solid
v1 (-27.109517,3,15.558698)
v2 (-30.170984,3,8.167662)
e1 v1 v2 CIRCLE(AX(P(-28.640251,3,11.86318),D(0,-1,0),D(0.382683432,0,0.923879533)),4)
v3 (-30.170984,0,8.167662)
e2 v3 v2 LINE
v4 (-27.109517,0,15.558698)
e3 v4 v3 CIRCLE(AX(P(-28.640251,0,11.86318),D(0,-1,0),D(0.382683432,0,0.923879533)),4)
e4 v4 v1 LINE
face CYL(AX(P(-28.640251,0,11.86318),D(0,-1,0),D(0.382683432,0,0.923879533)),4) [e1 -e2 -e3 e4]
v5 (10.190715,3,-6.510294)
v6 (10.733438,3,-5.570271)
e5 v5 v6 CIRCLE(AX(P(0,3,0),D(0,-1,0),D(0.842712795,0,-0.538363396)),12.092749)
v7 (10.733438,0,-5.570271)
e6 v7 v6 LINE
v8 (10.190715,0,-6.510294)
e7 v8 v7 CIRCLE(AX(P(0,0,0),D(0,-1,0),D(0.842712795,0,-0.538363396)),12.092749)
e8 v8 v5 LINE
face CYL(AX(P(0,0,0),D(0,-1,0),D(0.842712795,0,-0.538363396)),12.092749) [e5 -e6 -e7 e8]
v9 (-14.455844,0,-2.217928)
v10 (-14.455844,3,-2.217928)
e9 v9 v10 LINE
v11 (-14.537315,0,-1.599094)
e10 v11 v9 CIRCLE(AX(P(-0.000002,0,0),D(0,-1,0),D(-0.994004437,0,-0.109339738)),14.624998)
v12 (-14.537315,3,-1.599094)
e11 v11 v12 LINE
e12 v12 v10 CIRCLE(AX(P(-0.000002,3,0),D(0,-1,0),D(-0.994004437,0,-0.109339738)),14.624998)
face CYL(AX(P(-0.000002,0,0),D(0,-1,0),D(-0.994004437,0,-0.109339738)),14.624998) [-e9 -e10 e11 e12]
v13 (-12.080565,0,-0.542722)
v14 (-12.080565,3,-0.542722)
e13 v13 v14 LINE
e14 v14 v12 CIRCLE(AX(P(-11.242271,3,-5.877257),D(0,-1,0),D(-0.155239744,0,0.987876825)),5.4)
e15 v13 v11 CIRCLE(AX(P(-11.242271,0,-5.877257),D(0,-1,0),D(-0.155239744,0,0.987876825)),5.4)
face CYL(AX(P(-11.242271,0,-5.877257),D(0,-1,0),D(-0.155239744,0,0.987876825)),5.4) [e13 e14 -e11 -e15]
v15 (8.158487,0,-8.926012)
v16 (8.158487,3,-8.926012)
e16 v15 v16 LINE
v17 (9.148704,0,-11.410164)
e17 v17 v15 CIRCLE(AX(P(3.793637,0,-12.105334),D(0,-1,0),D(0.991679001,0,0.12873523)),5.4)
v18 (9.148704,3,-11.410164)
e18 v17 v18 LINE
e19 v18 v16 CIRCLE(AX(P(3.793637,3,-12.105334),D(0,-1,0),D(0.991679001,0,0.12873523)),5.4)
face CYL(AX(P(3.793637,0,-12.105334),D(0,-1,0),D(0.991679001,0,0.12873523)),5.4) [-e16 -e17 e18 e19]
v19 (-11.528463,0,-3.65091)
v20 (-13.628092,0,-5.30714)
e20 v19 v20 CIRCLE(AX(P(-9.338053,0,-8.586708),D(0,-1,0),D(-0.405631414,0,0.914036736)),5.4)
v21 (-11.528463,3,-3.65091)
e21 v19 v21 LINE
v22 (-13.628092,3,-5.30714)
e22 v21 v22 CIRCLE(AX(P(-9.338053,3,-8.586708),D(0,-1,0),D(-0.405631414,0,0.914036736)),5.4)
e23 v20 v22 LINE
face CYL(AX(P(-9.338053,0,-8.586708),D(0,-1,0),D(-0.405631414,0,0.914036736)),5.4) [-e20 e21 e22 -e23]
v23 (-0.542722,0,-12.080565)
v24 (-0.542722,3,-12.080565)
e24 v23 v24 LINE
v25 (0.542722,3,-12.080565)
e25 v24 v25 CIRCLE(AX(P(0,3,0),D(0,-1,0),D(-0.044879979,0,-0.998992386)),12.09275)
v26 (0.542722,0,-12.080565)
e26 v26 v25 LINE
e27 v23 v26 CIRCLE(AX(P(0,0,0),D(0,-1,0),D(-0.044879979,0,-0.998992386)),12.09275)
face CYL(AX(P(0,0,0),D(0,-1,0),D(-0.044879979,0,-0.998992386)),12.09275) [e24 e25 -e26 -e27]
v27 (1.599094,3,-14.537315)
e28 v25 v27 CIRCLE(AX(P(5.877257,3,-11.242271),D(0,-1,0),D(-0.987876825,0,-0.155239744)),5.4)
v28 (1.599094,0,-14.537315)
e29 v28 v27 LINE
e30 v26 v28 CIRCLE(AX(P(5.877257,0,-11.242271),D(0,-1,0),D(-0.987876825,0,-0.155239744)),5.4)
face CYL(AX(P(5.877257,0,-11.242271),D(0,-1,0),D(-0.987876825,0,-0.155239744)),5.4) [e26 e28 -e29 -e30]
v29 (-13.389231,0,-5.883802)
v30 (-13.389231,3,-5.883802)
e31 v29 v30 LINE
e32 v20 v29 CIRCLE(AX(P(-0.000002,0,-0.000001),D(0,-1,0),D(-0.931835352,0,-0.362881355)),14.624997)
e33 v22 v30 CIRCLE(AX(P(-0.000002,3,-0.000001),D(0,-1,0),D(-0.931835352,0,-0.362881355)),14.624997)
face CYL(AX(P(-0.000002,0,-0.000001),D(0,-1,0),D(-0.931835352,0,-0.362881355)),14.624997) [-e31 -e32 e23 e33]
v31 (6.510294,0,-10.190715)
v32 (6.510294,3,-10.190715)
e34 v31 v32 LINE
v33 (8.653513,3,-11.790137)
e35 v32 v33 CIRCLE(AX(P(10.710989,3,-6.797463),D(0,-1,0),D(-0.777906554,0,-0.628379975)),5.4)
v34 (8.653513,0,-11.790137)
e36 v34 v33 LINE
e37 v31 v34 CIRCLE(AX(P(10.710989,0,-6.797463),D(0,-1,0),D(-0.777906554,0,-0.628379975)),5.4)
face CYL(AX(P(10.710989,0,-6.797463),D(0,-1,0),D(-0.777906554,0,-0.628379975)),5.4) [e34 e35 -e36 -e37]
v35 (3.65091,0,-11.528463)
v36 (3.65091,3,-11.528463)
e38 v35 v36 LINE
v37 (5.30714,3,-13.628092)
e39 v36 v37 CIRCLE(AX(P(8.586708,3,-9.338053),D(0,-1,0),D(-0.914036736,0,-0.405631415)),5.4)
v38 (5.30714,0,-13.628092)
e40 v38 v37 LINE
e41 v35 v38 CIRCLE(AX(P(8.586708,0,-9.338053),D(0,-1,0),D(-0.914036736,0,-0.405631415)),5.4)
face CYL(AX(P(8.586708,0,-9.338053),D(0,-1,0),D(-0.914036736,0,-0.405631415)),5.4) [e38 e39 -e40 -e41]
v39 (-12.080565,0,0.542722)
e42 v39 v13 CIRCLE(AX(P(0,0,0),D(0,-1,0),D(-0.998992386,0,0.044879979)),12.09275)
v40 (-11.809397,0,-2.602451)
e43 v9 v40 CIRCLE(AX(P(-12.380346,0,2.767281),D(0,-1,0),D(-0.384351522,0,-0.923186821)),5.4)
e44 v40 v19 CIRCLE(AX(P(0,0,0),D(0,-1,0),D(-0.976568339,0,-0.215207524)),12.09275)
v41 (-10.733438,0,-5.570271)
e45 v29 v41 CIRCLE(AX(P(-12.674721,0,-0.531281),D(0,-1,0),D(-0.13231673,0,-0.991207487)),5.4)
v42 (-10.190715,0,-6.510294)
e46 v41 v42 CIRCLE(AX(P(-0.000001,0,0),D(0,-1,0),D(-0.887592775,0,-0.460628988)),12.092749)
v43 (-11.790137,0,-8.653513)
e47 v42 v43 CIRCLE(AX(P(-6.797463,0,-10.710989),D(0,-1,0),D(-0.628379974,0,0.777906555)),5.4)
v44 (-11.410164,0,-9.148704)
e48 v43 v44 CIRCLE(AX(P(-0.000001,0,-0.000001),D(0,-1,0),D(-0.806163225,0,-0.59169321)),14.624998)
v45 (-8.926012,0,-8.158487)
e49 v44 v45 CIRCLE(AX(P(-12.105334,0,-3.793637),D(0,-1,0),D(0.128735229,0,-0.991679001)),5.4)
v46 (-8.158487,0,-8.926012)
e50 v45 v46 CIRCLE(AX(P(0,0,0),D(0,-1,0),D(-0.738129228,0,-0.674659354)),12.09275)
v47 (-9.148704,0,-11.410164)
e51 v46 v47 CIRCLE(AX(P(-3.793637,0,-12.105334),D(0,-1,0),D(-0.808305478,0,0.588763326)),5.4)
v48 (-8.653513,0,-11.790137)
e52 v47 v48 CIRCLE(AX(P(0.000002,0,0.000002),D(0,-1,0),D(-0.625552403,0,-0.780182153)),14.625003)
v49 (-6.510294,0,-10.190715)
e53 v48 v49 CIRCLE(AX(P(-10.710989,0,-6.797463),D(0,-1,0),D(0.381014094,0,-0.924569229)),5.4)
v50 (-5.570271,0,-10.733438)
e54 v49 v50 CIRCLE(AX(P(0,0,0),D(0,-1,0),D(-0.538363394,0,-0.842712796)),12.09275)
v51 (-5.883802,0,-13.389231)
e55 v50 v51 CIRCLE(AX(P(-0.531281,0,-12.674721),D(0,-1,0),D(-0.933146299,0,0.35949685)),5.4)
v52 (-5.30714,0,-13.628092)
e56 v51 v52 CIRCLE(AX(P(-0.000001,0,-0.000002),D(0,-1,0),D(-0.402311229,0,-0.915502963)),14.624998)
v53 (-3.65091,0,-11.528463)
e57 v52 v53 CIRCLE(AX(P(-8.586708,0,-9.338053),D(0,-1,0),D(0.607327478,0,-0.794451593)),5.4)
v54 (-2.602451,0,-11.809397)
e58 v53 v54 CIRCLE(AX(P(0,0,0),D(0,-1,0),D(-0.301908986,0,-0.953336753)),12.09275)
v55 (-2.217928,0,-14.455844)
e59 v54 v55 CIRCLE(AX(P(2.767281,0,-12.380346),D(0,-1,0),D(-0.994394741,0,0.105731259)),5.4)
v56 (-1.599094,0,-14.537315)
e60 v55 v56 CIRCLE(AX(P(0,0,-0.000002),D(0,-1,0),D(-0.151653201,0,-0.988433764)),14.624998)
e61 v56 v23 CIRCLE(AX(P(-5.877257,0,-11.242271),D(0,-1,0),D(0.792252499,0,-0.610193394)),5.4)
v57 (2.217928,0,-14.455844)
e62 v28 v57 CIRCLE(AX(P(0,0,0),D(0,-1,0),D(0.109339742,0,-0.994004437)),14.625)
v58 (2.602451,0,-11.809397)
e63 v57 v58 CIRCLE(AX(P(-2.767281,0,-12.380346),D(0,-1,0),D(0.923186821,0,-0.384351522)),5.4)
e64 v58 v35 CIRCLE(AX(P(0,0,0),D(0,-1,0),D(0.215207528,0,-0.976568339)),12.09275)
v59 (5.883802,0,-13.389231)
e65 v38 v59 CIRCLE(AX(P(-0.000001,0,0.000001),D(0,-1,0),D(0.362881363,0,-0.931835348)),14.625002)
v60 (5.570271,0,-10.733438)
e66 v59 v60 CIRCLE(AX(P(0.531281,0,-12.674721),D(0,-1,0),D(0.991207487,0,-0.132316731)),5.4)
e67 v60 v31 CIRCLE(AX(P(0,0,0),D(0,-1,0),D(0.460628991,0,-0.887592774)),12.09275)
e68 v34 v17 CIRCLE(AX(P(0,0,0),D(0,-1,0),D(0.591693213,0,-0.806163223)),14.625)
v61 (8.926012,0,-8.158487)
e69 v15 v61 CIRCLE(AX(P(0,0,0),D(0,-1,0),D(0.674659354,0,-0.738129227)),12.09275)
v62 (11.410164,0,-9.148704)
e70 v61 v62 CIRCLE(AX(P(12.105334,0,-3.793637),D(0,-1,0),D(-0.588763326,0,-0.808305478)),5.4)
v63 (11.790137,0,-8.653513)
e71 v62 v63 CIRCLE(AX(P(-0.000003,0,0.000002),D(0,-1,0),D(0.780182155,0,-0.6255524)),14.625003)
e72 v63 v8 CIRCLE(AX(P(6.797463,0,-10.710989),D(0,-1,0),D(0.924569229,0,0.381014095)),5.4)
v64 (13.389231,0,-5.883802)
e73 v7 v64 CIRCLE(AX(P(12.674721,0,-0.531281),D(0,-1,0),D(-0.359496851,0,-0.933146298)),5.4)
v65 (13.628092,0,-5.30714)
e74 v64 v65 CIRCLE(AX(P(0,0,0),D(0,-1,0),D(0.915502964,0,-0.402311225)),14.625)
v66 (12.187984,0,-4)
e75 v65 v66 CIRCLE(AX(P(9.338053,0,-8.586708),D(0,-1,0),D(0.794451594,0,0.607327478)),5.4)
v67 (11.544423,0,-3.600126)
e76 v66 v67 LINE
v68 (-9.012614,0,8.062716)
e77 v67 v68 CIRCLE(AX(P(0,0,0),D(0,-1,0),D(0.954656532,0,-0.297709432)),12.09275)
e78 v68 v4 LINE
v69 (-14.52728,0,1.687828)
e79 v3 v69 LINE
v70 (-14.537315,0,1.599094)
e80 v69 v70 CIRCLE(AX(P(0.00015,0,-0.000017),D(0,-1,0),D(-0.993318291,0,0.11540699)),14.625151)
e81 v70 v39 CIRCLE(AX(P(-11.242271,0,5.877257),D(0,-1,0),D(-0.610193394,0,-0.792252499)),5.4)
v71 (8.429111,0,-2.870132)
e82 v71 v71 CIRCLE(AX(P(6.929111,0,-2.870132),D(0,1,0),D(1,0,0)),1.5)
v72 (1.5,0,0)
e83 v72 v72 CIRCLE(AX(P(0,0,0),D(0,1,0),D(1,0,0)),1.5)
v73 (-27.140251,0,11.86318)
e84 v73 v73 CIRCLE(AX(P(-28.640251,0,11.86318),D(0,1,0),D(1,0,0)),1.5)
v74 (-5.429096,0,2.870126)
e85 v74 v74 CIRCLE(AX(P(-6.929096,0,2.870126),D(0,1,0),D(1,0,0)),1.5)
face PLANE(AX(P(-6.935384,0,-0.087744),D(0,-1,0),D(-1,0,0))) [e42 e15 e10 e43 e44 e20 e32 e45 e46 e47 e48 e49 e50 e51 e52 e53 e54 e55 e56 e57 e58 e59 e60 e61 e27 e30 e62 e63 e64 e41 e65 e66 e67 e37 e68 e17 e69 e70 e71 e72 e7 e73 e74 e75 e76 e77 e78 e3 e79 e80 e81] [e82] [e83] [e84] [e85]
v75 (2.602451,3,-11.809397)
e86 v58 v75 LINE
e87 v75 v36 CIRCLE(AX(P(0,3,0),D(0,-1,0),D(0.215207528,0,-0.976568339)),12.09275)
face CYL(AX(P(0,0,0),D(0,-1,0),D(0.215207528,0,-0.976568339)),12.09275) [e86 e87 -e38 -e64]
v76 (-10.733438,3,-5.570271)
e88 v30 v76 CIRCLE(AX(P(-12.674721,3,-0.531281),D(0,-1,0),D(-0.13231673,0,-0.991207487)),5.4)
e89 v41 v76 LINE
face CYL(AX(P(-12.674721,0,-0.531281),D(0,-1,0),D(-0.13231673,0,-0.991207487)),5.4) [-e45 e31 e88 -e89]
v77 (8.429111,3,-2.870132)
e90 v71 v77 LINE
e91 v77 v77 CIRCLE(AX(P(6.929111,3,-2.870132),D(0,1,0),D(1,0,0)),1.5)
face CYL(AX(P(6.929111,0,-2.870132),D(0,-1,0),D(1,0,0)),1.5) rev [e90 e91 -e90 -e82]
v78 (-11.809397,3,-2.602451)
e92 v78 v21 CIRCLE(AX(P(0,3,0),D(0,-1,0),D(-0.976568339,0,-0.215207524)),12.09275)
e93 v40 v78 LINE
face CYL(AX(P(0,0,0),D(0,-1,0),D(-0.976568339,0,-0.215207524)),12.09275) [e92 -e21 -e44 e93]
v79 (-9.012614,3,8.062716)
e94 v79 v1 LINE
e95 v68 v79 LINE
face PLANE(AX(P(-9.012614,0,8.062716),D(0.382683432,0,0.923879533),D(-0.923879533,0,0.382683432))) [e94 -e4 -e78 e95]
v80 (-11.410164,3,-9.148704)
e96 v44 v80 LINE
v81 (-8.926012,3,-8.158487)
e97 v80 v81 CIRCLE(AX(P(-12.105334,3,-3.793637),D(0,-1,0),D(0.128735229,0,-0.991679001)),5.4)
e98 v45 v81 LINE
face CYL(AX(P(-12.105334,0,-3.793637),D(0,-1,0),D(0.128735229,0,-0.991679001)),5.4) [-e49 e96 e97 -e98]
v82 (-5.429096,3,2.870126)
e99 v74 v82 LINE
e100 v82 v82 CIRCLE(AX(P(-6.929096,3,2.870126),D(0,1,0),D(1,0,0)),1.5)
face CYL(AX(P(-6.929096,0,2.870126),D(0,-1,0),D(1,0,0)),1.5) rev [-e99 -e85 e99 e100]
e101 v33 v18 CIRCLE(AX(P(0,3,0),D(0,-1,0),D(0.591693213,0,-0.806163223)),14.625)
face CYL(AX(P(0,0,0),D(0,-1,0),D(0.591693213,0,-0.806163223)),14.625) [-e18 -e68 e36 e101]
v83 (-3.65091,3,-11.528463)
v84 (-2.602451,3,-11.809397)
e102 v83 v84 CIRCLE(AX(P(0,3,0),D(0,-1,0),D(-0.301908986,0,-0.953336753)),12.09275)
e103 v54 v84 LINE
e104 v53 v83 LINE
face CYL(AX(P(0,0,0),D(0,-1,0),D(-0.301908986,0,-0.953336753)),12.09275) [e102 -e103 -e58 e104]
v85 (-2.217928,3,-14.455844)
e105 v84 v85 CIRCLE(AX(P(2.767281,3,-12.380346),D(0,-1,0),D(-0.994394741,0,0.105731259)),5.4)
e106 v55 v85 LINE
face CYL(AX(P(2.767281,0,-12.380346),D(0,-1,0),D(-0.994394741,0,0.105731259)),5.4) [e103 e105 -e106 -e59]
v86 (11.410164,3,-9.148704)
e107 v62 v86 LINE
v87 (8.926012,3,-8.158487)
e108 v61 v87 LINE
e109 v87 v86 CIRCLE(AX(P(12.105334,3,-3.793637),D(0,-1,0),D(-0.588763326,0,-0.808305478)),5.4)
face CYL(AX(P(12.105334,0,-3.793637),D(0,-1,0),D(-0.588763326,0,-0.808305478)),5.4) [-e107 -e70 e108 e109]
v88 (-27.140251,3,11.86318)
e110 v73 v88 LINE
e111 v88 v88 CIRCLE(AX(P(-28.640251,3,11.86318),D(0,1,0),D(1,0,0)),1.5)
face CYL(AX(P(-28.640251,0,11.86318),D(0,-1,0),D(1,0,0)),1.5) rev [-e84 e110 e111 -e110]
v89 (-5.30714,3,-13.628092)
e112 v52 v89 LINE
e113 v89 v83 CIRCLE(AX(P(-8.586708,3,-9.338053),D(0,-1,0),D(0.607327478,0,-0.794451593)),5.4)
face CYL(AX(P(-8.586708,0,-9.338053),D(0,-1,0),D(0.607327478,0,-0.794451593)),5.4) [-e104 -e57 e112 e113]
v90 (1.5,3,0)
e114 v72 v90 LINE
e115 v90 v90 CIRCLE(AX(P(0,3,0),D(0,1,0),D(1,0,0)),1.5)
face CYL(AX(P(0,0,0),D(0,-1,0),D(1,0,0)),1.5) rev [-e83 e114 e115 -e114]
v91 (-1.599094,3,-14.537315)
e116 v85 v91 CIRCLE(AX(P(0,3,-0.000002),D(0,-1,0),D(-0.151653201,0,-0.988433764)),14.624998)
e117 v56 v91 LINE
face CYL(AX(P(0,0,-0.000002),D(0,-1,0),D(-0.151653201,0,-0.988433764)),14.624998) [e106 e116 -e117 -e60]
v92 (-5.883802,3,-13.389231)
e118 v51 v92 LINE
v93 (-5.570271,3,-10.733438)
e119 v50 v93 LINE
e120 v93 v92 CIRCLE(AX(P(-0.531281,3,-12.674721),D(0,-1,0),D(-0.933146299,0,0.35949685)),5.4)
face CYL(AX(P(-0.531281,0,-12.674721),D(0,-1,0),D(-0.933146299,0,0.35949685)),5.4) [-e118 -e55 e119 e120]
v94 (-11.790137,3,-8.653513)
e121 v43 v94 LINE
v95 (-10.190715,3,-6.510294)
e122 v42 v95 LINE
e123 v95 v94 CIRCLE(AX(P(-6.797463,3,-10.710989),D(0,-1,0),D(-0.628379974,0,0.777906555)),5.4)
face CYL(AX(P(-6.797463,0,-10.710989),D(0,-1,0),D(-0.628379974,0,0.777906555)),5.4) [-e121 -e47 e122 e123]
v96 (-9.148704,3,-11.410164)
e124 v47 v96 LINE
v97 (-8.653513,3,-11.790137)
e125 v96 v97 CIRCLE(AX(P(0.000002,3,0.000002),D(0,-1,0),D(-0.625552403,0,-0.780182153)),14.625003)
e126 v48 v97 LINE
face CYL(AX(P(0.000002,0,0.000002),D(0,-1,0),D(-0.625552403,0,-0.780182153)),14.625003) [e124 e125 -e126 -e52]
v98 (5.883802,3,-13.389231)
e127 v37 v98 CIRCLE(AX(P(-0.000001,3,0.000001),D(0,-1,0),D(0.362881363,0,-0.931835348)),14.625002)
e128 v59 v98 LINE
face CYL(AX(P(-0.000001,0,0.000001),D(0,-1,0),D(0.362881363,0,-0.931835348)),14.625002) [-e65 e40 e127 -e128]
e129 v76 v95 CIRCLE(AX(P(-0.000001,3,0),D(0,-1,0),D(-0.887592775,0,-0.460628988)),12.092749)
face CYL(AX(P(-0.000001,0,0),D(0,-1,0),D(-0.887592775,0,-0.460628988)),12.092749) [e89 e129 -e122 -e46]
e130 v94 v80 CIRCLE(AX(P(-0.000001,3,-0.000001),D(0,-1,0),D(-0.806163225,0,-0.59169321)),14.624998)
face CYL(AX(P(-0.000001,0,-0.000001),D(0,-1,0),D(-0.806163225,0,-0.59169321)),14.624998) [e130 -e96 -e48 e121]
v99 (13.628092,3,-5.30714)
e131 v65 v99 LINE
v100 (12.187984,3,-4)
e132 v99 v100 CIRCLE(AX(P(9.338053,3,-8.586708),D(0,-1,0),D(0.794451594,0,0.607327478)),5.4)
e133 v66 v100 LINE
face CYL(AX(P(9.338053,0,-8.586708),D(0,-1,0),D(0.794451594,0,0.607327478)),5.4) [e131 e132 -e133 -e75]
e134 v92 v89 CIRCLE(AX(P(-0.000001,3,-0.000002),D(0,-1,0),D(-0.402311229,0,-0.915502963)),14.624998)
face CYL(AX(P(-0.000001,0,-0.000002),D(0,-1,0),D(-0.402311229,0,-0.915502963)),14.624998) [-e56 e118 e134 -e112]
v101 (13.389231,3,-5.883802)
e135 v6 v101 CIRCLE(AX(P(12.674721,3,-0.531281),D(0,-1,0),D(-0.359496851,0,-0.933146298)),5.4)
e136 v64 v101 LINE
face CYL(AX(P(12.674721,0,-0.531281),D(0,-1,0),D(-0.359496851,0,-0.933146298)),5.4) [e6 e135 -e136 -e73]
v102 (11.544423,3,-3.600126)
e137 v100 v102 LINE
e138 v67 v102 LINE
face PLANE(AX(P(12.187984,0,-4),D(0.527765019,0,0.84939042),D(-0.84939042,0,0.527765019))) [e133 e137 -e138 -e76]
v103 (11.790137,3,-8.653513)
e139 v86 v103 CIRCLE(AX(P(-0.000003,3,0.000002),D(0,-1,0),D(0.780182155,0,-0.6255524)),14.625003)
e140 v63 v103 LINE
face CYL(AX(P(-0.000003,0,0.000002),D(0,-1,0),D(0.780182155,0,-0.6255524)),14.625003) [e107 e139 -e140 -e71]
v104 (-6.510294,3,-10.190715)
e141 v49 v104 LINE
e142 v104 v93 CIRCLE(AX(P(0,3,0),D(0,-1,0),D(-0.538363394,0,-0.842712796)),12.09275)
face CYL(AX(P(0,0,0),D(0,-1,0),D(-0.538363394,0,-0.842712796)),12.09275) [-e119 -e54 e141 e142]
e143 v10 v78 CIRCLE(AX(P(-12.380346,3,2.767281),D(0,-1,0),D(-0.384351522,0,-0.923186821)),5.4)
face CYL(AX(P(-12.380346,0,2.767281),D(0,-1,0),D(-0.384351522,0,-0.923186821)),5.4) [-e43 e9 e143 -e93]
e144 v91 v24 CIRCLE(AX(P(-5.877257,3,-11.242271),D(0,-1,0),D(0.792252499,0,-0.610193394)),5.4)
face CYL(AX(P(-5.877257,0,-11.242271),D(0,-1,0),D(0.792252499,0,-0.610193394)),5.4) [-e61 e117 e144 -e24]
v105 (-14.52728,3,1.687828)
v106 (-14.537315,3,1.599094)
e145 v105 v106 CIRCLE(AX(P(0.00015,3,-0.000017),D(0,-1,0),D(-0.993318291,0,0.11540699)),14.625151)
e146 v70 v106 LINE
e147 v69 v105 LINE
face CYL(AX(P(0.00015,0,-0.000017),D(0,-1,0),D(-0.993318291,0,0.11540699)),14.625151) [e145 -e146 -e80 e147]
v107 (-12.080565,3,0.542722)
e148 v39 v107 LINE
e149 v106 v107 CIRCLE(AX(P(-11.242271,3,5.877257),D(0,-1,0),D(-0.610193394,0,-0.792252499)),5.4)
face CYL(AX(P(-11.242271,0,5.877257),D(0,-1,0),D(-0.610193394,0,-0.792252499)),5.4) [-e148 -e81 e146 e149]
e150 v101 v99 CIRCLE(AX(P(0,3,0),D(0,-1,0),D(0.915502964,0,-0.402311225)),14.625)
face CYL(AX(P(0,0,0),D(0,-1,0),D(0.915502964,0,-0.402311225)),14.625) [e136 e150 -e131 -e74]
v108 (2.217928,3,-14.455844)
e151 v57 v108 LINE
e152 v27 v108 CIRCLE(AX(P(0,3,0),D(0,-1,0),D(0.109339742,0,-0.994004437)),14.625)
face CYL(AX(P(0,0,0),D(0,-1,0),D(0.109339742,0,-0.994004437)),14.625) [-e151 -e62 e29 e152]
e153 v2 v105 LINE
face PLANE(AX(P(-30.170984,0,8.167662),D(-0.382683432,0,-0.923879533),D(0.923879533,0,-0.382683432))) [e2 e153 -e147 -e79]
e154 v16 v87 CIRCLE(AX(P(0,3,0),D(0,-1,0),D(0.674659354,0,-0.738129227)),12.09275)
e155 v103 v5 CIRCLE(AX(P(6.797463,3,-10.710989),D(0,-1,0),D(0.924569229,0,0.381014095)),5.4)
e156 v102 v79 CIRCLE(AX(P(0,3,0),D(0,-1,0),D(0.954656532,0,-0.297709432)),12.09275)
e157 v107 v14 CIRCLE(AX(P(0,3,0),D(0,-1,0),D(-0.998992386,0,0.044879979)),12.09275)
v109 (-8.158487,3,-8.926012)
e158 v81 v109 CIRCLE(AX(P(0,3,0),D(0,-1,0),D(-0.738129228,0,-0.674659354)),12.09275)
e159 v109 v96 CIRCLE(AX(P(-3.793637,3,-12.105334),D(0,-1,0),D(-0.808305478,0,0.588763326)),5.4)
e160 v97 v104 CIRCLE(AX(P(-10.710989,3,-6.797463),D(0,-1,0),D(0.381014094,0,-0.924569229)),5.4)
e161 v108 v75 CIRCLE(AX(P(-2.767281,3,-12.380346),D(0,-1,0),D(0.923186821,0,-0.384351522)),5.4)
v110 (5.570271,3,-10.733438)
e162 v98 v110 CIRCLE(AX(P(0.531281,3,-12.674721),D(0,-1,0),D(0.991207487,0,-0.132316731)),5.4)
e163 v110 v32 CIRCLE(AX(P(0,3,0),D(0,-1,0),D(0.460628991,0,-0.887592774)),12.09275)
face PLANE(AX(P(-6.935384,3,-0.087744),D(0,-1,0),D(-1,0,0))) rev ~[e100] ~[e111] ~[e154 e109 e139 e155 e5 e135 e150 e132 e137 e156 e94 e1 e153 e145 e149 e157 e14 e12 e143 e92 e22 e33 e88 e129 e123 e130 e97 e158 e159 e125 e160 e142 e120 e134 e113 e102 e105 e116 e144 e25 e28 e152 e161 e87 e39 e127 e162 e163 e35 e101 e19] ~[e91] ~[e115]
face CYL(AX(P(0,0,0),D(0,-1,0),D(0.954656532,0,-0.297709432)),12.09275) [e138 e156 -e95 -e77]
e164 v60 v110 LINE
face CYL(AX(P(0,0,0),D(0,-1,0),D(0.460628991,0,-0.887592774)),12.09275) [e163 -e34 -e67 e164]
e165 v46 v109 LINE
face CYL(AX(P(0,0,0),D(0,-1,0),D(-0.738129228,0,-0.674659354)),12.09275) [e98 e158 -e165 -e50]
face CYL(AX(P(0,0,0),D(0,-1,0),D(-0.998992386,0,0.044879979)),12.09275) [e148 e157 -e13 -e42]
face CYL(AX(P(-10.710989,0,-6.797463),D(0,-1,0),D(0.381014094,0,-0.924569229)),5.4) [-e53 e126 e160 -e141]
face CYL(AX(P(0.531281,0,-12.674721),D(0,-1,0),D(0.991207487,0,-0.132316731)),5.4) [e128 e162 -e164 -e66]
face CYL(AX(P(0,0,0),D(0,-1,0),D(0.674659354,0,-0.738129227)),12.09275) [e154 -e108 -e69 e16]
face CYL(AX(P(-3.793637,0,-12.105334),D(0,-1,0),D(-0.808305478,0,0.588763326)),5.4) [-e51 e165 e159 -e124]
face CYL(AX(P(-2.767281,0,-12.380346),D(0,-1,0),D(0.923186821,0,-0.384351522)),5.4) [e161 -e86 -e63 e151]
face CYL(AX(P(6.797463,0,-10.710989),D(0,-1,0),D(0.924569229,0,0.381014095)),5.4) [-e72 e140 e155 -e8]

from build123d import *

# Parameters (mm, degrees)
SKETCH1_R           = 1.5
BOSS_EXTRUDE1_DEPTH = 3


with BuildPart() as part:
    # Sketch1 → Boss-Extrude1 (new body)
    with BuildSketch(Plane(origin=(0, 0, 0), x_dir=(1, 0, 0), z_dir=(0, 1, 0))):
        with BuildLine():
            Line((-9.012614242, -8.062715867), (-27.10951678, -15.558698335))
            ThreePointArc((-27.10951678, -15.558698335), (-32.335768639, -13.393913934), (-30.170984238, -8.167662075))
            Line((-30.170984238, -8.167662075), (-14.527279952, -1.687827594))
            ThreePointArc((-14.527279952, -1.687827594), (-14.532365143, -1.643468323), (-14.537314884, -1.599093734))
            ThreePointArc((-14.537314884, -1.599093734), (-13.375367561, -0.916420891), (-12.08056518, -0.542722374))
            ThreePointArc((-12.08056518, -0.542722374), (-12.092750003, -1.6e-08), (-12.080565181, 0.542722343))
            ThreePointArc((-12.080565181, 0.542722343), (-13.375367564, 0.91642086), (-14.537314887, 1.599093703))
            ThreePointArc((-14.537314887, 1.599093703), (-14.499881093, 1.908945545), (-14.455843804, 2.217928021))
            ThreePointArc((-14.455843804, 2.217928021), (-13.156800144, 2.576605254), (-11.80939679, 2.602450787))
            ThreePointArc((-11.80939679, 2.602450787), (-11.680699543, 3.129833994), (-11.528463026, 3.650909874))
            ThreePointArc((-11.528463026, 3.650909874), (-12.682425794, 4.346994439), (-13.628091988, 5.307139865))
            ThreePointArc((-13.628091988, 5.307139865), (-13.511738162, 5.596745183), (-13.389230858, 5.883801647))
            ThreePointArc((-13.389230858, 5.883801647), (-12.041618538, 5.89404001), (-10.733437524, 5.570271228))
            ThreePointArc((-10.733437524, 5.570271228), (-10.472628711, 6.046374991), (-10.190715165, 6.51029393))
            ThreePointArc((-10.190715165, 6.51029393), (-11.125197663, 7.48132753), (-11.790137141, 8.653513216))
            ThreePointArc((-11.790137141, 8.653513216), (-11.602792603, 8.903135886), (-11.410163954, 9.148703915))
            ThreePointArc((-11.410163954, 9.148703915), (-10.105820527, 8.80980568), (-8.926012227, 8.158486891))
            ThreePointArc((-8.926012227, 8.158486891), (-8.550865537, 8.550865523), (-8.158486906, 8.926012214))
            ThreePointArc((-8.158486906, 8.926012214), (-8.809805695, 10.105820514), (-9.148703931, 11.410163942))
            ThreePointArc((-9.148703931, 11.410163942), (-8.903135901, 11.602792591), (-8.653513232, 11.79013713))
            ThreePointArc((-8.653513232, 11.79013713), (-7.481327547, 11.125197652), (-6.510293947, 10.190715155))
            ThreePointArc((-6.510293947, 10.190715155), (-6.046375007, 10.472628701), (-5.570271245, 10.733437515))
            ThreePointArc((-5.570271245, 10.733437515), (-5.894040027, 12.04161853), (-5.883801664, 13.38923085))
            ThreePointArc((-5.883801664, 13.38923085), (-5.5967452, 13.511738155), (-5.307139882, 13.628091982))
            ThreePointArc((-5.307139882, 13.628091982), (-4.346994456, 12.682425788), (-3.650909891, 11.52846302))
            ThreePointArc((-3.650909891, 11.52846302), (-3.129834011, 11.680699538), (-2.602450802, 11.809396786))
            ThreePointArc((-2.602450802, 11.809396786), (-2.57660527, 13.156800141), (-2.217928037, 14.455843802))
            ThreePointArc((-2.217928037, 14.455843802), (-1.908945561, 14.499881091), (-1.599093718, 14.537314885))
            ThreePointArc((-1.599093718, 14.537314885), (-0.916420875, 13.375367563), (-0.542722359, 12.08056518))
            ThreePointArc((-0.542722359, 12.08056518), (2e-09, 12.092750003), (0.542722362, 12.08056518))
            ThreePointArc((0.542722362, 12.08056518), (0.916420879, 13.375367562), (1.599093721, 14.537314885))
            ThreePointArc((1.599093721, 14.537314885), (1.908945564, 14.49988109), (2.21792804, 14.455843801))
            ThreePointArc((2.21792804, 14.455843801), (2.576605273, 13.15680014), (2.602450806, 11.809396786))
            ThreePointArc((2.602450806, 11.809396786), (3.129834014, 11.680699537), (3.650909894, 11.528463019))
            ThreePointArc((3.650909894, 11.528463019), (4.346994459, 12.682425786), (5.307139885, 13.628091981))
            ThreePointArc((5.307139885, 13.628091981), (5.596745203, 13.511738153), (5.883801667, 13.389230849))
            ThreePointArc((5.883801667, 13.389230849), (5.89404003, 12.041618528), (5.570271248, 10.733437514))
            ThreePointArc((5.570271248, 10.733437514), (6.04637501, 10.4726287), (6.510293949, 10.190715153))
            ThreePointArc((6.510293949, 10.190715153), (7.481327549, 11.12519765), (8.653513234, 11.790137128))
            ThreePointArc((8.653513234, 11.790137128), (8.903135904, 11.602792589), (9.148703933, 11.41016394))
            ThreePointArc((9.148703933, 11.41016394), (8.809805697, 10.105820513), (8.158486908, 8.926012212))
            ThreePointArc((8.158486908, 8.926012212), (8.550865539, 8.550865522), (8.926012229, 8.15848689))
            ThreePointArc((8.926012229, 8.15848689), (10.105820529, 8.809805679), (11.410163956, 9.148703914))
            ThreePointArc((11.410163956, 9.148703914), (11.602792604, 8.903135884), (11.790137143, 8.653513214))
            ThreePointArc((11.790137143, 8.653513214), (11.125197664, 7.481327529), (10.190715166, 6.510293928))
            ThreePointArc((10.190715166, 6.510293928), (10.472628712, 6.046374989), (10.733437525, 5.570271227))
            ThreePointArc((10.733437525, 5.570271227), (12.041618538, 5.894040009), (13.389230858, 5.883801646))
            ThreePointArc((13.389230858, 5.883801646), (13.511738162, 5.596745182), (13.628091989, 5.307139864))
            ThreePointArc((13.628091989, 5.307139864), (12.967370885, 4.588201714), (12.187984486, 3.999999979))
            Line((12.187984486, 3.999999979), (11.544422781, 3.600125731))
            ThreePointArc((11.544422781, 3.600125731), (5.967242425, -10.517919019), (-9.012614242, -8.062715867))
        make_face()
        Circle(SKETCH1_R, mode=Mode.SUBTRACT)
        with Locations((-28.640250509, -11.863180205)):
            Circle(SKETCH1_R, mode=Mode.SUBTRACT)
        with Locations((-6.929096489, -2.870125744)):
            Circle(SKETCH1_R, mode=Mode.SUBTRACT)
        with Locations((6.929111486, 2.870131956)):
            Circle(SKETCH1_R, mode=Mode.SUBTRACT)
    extrude(amount=BOSS_EXTRUDE1_DEPTH)


solid = part.part
